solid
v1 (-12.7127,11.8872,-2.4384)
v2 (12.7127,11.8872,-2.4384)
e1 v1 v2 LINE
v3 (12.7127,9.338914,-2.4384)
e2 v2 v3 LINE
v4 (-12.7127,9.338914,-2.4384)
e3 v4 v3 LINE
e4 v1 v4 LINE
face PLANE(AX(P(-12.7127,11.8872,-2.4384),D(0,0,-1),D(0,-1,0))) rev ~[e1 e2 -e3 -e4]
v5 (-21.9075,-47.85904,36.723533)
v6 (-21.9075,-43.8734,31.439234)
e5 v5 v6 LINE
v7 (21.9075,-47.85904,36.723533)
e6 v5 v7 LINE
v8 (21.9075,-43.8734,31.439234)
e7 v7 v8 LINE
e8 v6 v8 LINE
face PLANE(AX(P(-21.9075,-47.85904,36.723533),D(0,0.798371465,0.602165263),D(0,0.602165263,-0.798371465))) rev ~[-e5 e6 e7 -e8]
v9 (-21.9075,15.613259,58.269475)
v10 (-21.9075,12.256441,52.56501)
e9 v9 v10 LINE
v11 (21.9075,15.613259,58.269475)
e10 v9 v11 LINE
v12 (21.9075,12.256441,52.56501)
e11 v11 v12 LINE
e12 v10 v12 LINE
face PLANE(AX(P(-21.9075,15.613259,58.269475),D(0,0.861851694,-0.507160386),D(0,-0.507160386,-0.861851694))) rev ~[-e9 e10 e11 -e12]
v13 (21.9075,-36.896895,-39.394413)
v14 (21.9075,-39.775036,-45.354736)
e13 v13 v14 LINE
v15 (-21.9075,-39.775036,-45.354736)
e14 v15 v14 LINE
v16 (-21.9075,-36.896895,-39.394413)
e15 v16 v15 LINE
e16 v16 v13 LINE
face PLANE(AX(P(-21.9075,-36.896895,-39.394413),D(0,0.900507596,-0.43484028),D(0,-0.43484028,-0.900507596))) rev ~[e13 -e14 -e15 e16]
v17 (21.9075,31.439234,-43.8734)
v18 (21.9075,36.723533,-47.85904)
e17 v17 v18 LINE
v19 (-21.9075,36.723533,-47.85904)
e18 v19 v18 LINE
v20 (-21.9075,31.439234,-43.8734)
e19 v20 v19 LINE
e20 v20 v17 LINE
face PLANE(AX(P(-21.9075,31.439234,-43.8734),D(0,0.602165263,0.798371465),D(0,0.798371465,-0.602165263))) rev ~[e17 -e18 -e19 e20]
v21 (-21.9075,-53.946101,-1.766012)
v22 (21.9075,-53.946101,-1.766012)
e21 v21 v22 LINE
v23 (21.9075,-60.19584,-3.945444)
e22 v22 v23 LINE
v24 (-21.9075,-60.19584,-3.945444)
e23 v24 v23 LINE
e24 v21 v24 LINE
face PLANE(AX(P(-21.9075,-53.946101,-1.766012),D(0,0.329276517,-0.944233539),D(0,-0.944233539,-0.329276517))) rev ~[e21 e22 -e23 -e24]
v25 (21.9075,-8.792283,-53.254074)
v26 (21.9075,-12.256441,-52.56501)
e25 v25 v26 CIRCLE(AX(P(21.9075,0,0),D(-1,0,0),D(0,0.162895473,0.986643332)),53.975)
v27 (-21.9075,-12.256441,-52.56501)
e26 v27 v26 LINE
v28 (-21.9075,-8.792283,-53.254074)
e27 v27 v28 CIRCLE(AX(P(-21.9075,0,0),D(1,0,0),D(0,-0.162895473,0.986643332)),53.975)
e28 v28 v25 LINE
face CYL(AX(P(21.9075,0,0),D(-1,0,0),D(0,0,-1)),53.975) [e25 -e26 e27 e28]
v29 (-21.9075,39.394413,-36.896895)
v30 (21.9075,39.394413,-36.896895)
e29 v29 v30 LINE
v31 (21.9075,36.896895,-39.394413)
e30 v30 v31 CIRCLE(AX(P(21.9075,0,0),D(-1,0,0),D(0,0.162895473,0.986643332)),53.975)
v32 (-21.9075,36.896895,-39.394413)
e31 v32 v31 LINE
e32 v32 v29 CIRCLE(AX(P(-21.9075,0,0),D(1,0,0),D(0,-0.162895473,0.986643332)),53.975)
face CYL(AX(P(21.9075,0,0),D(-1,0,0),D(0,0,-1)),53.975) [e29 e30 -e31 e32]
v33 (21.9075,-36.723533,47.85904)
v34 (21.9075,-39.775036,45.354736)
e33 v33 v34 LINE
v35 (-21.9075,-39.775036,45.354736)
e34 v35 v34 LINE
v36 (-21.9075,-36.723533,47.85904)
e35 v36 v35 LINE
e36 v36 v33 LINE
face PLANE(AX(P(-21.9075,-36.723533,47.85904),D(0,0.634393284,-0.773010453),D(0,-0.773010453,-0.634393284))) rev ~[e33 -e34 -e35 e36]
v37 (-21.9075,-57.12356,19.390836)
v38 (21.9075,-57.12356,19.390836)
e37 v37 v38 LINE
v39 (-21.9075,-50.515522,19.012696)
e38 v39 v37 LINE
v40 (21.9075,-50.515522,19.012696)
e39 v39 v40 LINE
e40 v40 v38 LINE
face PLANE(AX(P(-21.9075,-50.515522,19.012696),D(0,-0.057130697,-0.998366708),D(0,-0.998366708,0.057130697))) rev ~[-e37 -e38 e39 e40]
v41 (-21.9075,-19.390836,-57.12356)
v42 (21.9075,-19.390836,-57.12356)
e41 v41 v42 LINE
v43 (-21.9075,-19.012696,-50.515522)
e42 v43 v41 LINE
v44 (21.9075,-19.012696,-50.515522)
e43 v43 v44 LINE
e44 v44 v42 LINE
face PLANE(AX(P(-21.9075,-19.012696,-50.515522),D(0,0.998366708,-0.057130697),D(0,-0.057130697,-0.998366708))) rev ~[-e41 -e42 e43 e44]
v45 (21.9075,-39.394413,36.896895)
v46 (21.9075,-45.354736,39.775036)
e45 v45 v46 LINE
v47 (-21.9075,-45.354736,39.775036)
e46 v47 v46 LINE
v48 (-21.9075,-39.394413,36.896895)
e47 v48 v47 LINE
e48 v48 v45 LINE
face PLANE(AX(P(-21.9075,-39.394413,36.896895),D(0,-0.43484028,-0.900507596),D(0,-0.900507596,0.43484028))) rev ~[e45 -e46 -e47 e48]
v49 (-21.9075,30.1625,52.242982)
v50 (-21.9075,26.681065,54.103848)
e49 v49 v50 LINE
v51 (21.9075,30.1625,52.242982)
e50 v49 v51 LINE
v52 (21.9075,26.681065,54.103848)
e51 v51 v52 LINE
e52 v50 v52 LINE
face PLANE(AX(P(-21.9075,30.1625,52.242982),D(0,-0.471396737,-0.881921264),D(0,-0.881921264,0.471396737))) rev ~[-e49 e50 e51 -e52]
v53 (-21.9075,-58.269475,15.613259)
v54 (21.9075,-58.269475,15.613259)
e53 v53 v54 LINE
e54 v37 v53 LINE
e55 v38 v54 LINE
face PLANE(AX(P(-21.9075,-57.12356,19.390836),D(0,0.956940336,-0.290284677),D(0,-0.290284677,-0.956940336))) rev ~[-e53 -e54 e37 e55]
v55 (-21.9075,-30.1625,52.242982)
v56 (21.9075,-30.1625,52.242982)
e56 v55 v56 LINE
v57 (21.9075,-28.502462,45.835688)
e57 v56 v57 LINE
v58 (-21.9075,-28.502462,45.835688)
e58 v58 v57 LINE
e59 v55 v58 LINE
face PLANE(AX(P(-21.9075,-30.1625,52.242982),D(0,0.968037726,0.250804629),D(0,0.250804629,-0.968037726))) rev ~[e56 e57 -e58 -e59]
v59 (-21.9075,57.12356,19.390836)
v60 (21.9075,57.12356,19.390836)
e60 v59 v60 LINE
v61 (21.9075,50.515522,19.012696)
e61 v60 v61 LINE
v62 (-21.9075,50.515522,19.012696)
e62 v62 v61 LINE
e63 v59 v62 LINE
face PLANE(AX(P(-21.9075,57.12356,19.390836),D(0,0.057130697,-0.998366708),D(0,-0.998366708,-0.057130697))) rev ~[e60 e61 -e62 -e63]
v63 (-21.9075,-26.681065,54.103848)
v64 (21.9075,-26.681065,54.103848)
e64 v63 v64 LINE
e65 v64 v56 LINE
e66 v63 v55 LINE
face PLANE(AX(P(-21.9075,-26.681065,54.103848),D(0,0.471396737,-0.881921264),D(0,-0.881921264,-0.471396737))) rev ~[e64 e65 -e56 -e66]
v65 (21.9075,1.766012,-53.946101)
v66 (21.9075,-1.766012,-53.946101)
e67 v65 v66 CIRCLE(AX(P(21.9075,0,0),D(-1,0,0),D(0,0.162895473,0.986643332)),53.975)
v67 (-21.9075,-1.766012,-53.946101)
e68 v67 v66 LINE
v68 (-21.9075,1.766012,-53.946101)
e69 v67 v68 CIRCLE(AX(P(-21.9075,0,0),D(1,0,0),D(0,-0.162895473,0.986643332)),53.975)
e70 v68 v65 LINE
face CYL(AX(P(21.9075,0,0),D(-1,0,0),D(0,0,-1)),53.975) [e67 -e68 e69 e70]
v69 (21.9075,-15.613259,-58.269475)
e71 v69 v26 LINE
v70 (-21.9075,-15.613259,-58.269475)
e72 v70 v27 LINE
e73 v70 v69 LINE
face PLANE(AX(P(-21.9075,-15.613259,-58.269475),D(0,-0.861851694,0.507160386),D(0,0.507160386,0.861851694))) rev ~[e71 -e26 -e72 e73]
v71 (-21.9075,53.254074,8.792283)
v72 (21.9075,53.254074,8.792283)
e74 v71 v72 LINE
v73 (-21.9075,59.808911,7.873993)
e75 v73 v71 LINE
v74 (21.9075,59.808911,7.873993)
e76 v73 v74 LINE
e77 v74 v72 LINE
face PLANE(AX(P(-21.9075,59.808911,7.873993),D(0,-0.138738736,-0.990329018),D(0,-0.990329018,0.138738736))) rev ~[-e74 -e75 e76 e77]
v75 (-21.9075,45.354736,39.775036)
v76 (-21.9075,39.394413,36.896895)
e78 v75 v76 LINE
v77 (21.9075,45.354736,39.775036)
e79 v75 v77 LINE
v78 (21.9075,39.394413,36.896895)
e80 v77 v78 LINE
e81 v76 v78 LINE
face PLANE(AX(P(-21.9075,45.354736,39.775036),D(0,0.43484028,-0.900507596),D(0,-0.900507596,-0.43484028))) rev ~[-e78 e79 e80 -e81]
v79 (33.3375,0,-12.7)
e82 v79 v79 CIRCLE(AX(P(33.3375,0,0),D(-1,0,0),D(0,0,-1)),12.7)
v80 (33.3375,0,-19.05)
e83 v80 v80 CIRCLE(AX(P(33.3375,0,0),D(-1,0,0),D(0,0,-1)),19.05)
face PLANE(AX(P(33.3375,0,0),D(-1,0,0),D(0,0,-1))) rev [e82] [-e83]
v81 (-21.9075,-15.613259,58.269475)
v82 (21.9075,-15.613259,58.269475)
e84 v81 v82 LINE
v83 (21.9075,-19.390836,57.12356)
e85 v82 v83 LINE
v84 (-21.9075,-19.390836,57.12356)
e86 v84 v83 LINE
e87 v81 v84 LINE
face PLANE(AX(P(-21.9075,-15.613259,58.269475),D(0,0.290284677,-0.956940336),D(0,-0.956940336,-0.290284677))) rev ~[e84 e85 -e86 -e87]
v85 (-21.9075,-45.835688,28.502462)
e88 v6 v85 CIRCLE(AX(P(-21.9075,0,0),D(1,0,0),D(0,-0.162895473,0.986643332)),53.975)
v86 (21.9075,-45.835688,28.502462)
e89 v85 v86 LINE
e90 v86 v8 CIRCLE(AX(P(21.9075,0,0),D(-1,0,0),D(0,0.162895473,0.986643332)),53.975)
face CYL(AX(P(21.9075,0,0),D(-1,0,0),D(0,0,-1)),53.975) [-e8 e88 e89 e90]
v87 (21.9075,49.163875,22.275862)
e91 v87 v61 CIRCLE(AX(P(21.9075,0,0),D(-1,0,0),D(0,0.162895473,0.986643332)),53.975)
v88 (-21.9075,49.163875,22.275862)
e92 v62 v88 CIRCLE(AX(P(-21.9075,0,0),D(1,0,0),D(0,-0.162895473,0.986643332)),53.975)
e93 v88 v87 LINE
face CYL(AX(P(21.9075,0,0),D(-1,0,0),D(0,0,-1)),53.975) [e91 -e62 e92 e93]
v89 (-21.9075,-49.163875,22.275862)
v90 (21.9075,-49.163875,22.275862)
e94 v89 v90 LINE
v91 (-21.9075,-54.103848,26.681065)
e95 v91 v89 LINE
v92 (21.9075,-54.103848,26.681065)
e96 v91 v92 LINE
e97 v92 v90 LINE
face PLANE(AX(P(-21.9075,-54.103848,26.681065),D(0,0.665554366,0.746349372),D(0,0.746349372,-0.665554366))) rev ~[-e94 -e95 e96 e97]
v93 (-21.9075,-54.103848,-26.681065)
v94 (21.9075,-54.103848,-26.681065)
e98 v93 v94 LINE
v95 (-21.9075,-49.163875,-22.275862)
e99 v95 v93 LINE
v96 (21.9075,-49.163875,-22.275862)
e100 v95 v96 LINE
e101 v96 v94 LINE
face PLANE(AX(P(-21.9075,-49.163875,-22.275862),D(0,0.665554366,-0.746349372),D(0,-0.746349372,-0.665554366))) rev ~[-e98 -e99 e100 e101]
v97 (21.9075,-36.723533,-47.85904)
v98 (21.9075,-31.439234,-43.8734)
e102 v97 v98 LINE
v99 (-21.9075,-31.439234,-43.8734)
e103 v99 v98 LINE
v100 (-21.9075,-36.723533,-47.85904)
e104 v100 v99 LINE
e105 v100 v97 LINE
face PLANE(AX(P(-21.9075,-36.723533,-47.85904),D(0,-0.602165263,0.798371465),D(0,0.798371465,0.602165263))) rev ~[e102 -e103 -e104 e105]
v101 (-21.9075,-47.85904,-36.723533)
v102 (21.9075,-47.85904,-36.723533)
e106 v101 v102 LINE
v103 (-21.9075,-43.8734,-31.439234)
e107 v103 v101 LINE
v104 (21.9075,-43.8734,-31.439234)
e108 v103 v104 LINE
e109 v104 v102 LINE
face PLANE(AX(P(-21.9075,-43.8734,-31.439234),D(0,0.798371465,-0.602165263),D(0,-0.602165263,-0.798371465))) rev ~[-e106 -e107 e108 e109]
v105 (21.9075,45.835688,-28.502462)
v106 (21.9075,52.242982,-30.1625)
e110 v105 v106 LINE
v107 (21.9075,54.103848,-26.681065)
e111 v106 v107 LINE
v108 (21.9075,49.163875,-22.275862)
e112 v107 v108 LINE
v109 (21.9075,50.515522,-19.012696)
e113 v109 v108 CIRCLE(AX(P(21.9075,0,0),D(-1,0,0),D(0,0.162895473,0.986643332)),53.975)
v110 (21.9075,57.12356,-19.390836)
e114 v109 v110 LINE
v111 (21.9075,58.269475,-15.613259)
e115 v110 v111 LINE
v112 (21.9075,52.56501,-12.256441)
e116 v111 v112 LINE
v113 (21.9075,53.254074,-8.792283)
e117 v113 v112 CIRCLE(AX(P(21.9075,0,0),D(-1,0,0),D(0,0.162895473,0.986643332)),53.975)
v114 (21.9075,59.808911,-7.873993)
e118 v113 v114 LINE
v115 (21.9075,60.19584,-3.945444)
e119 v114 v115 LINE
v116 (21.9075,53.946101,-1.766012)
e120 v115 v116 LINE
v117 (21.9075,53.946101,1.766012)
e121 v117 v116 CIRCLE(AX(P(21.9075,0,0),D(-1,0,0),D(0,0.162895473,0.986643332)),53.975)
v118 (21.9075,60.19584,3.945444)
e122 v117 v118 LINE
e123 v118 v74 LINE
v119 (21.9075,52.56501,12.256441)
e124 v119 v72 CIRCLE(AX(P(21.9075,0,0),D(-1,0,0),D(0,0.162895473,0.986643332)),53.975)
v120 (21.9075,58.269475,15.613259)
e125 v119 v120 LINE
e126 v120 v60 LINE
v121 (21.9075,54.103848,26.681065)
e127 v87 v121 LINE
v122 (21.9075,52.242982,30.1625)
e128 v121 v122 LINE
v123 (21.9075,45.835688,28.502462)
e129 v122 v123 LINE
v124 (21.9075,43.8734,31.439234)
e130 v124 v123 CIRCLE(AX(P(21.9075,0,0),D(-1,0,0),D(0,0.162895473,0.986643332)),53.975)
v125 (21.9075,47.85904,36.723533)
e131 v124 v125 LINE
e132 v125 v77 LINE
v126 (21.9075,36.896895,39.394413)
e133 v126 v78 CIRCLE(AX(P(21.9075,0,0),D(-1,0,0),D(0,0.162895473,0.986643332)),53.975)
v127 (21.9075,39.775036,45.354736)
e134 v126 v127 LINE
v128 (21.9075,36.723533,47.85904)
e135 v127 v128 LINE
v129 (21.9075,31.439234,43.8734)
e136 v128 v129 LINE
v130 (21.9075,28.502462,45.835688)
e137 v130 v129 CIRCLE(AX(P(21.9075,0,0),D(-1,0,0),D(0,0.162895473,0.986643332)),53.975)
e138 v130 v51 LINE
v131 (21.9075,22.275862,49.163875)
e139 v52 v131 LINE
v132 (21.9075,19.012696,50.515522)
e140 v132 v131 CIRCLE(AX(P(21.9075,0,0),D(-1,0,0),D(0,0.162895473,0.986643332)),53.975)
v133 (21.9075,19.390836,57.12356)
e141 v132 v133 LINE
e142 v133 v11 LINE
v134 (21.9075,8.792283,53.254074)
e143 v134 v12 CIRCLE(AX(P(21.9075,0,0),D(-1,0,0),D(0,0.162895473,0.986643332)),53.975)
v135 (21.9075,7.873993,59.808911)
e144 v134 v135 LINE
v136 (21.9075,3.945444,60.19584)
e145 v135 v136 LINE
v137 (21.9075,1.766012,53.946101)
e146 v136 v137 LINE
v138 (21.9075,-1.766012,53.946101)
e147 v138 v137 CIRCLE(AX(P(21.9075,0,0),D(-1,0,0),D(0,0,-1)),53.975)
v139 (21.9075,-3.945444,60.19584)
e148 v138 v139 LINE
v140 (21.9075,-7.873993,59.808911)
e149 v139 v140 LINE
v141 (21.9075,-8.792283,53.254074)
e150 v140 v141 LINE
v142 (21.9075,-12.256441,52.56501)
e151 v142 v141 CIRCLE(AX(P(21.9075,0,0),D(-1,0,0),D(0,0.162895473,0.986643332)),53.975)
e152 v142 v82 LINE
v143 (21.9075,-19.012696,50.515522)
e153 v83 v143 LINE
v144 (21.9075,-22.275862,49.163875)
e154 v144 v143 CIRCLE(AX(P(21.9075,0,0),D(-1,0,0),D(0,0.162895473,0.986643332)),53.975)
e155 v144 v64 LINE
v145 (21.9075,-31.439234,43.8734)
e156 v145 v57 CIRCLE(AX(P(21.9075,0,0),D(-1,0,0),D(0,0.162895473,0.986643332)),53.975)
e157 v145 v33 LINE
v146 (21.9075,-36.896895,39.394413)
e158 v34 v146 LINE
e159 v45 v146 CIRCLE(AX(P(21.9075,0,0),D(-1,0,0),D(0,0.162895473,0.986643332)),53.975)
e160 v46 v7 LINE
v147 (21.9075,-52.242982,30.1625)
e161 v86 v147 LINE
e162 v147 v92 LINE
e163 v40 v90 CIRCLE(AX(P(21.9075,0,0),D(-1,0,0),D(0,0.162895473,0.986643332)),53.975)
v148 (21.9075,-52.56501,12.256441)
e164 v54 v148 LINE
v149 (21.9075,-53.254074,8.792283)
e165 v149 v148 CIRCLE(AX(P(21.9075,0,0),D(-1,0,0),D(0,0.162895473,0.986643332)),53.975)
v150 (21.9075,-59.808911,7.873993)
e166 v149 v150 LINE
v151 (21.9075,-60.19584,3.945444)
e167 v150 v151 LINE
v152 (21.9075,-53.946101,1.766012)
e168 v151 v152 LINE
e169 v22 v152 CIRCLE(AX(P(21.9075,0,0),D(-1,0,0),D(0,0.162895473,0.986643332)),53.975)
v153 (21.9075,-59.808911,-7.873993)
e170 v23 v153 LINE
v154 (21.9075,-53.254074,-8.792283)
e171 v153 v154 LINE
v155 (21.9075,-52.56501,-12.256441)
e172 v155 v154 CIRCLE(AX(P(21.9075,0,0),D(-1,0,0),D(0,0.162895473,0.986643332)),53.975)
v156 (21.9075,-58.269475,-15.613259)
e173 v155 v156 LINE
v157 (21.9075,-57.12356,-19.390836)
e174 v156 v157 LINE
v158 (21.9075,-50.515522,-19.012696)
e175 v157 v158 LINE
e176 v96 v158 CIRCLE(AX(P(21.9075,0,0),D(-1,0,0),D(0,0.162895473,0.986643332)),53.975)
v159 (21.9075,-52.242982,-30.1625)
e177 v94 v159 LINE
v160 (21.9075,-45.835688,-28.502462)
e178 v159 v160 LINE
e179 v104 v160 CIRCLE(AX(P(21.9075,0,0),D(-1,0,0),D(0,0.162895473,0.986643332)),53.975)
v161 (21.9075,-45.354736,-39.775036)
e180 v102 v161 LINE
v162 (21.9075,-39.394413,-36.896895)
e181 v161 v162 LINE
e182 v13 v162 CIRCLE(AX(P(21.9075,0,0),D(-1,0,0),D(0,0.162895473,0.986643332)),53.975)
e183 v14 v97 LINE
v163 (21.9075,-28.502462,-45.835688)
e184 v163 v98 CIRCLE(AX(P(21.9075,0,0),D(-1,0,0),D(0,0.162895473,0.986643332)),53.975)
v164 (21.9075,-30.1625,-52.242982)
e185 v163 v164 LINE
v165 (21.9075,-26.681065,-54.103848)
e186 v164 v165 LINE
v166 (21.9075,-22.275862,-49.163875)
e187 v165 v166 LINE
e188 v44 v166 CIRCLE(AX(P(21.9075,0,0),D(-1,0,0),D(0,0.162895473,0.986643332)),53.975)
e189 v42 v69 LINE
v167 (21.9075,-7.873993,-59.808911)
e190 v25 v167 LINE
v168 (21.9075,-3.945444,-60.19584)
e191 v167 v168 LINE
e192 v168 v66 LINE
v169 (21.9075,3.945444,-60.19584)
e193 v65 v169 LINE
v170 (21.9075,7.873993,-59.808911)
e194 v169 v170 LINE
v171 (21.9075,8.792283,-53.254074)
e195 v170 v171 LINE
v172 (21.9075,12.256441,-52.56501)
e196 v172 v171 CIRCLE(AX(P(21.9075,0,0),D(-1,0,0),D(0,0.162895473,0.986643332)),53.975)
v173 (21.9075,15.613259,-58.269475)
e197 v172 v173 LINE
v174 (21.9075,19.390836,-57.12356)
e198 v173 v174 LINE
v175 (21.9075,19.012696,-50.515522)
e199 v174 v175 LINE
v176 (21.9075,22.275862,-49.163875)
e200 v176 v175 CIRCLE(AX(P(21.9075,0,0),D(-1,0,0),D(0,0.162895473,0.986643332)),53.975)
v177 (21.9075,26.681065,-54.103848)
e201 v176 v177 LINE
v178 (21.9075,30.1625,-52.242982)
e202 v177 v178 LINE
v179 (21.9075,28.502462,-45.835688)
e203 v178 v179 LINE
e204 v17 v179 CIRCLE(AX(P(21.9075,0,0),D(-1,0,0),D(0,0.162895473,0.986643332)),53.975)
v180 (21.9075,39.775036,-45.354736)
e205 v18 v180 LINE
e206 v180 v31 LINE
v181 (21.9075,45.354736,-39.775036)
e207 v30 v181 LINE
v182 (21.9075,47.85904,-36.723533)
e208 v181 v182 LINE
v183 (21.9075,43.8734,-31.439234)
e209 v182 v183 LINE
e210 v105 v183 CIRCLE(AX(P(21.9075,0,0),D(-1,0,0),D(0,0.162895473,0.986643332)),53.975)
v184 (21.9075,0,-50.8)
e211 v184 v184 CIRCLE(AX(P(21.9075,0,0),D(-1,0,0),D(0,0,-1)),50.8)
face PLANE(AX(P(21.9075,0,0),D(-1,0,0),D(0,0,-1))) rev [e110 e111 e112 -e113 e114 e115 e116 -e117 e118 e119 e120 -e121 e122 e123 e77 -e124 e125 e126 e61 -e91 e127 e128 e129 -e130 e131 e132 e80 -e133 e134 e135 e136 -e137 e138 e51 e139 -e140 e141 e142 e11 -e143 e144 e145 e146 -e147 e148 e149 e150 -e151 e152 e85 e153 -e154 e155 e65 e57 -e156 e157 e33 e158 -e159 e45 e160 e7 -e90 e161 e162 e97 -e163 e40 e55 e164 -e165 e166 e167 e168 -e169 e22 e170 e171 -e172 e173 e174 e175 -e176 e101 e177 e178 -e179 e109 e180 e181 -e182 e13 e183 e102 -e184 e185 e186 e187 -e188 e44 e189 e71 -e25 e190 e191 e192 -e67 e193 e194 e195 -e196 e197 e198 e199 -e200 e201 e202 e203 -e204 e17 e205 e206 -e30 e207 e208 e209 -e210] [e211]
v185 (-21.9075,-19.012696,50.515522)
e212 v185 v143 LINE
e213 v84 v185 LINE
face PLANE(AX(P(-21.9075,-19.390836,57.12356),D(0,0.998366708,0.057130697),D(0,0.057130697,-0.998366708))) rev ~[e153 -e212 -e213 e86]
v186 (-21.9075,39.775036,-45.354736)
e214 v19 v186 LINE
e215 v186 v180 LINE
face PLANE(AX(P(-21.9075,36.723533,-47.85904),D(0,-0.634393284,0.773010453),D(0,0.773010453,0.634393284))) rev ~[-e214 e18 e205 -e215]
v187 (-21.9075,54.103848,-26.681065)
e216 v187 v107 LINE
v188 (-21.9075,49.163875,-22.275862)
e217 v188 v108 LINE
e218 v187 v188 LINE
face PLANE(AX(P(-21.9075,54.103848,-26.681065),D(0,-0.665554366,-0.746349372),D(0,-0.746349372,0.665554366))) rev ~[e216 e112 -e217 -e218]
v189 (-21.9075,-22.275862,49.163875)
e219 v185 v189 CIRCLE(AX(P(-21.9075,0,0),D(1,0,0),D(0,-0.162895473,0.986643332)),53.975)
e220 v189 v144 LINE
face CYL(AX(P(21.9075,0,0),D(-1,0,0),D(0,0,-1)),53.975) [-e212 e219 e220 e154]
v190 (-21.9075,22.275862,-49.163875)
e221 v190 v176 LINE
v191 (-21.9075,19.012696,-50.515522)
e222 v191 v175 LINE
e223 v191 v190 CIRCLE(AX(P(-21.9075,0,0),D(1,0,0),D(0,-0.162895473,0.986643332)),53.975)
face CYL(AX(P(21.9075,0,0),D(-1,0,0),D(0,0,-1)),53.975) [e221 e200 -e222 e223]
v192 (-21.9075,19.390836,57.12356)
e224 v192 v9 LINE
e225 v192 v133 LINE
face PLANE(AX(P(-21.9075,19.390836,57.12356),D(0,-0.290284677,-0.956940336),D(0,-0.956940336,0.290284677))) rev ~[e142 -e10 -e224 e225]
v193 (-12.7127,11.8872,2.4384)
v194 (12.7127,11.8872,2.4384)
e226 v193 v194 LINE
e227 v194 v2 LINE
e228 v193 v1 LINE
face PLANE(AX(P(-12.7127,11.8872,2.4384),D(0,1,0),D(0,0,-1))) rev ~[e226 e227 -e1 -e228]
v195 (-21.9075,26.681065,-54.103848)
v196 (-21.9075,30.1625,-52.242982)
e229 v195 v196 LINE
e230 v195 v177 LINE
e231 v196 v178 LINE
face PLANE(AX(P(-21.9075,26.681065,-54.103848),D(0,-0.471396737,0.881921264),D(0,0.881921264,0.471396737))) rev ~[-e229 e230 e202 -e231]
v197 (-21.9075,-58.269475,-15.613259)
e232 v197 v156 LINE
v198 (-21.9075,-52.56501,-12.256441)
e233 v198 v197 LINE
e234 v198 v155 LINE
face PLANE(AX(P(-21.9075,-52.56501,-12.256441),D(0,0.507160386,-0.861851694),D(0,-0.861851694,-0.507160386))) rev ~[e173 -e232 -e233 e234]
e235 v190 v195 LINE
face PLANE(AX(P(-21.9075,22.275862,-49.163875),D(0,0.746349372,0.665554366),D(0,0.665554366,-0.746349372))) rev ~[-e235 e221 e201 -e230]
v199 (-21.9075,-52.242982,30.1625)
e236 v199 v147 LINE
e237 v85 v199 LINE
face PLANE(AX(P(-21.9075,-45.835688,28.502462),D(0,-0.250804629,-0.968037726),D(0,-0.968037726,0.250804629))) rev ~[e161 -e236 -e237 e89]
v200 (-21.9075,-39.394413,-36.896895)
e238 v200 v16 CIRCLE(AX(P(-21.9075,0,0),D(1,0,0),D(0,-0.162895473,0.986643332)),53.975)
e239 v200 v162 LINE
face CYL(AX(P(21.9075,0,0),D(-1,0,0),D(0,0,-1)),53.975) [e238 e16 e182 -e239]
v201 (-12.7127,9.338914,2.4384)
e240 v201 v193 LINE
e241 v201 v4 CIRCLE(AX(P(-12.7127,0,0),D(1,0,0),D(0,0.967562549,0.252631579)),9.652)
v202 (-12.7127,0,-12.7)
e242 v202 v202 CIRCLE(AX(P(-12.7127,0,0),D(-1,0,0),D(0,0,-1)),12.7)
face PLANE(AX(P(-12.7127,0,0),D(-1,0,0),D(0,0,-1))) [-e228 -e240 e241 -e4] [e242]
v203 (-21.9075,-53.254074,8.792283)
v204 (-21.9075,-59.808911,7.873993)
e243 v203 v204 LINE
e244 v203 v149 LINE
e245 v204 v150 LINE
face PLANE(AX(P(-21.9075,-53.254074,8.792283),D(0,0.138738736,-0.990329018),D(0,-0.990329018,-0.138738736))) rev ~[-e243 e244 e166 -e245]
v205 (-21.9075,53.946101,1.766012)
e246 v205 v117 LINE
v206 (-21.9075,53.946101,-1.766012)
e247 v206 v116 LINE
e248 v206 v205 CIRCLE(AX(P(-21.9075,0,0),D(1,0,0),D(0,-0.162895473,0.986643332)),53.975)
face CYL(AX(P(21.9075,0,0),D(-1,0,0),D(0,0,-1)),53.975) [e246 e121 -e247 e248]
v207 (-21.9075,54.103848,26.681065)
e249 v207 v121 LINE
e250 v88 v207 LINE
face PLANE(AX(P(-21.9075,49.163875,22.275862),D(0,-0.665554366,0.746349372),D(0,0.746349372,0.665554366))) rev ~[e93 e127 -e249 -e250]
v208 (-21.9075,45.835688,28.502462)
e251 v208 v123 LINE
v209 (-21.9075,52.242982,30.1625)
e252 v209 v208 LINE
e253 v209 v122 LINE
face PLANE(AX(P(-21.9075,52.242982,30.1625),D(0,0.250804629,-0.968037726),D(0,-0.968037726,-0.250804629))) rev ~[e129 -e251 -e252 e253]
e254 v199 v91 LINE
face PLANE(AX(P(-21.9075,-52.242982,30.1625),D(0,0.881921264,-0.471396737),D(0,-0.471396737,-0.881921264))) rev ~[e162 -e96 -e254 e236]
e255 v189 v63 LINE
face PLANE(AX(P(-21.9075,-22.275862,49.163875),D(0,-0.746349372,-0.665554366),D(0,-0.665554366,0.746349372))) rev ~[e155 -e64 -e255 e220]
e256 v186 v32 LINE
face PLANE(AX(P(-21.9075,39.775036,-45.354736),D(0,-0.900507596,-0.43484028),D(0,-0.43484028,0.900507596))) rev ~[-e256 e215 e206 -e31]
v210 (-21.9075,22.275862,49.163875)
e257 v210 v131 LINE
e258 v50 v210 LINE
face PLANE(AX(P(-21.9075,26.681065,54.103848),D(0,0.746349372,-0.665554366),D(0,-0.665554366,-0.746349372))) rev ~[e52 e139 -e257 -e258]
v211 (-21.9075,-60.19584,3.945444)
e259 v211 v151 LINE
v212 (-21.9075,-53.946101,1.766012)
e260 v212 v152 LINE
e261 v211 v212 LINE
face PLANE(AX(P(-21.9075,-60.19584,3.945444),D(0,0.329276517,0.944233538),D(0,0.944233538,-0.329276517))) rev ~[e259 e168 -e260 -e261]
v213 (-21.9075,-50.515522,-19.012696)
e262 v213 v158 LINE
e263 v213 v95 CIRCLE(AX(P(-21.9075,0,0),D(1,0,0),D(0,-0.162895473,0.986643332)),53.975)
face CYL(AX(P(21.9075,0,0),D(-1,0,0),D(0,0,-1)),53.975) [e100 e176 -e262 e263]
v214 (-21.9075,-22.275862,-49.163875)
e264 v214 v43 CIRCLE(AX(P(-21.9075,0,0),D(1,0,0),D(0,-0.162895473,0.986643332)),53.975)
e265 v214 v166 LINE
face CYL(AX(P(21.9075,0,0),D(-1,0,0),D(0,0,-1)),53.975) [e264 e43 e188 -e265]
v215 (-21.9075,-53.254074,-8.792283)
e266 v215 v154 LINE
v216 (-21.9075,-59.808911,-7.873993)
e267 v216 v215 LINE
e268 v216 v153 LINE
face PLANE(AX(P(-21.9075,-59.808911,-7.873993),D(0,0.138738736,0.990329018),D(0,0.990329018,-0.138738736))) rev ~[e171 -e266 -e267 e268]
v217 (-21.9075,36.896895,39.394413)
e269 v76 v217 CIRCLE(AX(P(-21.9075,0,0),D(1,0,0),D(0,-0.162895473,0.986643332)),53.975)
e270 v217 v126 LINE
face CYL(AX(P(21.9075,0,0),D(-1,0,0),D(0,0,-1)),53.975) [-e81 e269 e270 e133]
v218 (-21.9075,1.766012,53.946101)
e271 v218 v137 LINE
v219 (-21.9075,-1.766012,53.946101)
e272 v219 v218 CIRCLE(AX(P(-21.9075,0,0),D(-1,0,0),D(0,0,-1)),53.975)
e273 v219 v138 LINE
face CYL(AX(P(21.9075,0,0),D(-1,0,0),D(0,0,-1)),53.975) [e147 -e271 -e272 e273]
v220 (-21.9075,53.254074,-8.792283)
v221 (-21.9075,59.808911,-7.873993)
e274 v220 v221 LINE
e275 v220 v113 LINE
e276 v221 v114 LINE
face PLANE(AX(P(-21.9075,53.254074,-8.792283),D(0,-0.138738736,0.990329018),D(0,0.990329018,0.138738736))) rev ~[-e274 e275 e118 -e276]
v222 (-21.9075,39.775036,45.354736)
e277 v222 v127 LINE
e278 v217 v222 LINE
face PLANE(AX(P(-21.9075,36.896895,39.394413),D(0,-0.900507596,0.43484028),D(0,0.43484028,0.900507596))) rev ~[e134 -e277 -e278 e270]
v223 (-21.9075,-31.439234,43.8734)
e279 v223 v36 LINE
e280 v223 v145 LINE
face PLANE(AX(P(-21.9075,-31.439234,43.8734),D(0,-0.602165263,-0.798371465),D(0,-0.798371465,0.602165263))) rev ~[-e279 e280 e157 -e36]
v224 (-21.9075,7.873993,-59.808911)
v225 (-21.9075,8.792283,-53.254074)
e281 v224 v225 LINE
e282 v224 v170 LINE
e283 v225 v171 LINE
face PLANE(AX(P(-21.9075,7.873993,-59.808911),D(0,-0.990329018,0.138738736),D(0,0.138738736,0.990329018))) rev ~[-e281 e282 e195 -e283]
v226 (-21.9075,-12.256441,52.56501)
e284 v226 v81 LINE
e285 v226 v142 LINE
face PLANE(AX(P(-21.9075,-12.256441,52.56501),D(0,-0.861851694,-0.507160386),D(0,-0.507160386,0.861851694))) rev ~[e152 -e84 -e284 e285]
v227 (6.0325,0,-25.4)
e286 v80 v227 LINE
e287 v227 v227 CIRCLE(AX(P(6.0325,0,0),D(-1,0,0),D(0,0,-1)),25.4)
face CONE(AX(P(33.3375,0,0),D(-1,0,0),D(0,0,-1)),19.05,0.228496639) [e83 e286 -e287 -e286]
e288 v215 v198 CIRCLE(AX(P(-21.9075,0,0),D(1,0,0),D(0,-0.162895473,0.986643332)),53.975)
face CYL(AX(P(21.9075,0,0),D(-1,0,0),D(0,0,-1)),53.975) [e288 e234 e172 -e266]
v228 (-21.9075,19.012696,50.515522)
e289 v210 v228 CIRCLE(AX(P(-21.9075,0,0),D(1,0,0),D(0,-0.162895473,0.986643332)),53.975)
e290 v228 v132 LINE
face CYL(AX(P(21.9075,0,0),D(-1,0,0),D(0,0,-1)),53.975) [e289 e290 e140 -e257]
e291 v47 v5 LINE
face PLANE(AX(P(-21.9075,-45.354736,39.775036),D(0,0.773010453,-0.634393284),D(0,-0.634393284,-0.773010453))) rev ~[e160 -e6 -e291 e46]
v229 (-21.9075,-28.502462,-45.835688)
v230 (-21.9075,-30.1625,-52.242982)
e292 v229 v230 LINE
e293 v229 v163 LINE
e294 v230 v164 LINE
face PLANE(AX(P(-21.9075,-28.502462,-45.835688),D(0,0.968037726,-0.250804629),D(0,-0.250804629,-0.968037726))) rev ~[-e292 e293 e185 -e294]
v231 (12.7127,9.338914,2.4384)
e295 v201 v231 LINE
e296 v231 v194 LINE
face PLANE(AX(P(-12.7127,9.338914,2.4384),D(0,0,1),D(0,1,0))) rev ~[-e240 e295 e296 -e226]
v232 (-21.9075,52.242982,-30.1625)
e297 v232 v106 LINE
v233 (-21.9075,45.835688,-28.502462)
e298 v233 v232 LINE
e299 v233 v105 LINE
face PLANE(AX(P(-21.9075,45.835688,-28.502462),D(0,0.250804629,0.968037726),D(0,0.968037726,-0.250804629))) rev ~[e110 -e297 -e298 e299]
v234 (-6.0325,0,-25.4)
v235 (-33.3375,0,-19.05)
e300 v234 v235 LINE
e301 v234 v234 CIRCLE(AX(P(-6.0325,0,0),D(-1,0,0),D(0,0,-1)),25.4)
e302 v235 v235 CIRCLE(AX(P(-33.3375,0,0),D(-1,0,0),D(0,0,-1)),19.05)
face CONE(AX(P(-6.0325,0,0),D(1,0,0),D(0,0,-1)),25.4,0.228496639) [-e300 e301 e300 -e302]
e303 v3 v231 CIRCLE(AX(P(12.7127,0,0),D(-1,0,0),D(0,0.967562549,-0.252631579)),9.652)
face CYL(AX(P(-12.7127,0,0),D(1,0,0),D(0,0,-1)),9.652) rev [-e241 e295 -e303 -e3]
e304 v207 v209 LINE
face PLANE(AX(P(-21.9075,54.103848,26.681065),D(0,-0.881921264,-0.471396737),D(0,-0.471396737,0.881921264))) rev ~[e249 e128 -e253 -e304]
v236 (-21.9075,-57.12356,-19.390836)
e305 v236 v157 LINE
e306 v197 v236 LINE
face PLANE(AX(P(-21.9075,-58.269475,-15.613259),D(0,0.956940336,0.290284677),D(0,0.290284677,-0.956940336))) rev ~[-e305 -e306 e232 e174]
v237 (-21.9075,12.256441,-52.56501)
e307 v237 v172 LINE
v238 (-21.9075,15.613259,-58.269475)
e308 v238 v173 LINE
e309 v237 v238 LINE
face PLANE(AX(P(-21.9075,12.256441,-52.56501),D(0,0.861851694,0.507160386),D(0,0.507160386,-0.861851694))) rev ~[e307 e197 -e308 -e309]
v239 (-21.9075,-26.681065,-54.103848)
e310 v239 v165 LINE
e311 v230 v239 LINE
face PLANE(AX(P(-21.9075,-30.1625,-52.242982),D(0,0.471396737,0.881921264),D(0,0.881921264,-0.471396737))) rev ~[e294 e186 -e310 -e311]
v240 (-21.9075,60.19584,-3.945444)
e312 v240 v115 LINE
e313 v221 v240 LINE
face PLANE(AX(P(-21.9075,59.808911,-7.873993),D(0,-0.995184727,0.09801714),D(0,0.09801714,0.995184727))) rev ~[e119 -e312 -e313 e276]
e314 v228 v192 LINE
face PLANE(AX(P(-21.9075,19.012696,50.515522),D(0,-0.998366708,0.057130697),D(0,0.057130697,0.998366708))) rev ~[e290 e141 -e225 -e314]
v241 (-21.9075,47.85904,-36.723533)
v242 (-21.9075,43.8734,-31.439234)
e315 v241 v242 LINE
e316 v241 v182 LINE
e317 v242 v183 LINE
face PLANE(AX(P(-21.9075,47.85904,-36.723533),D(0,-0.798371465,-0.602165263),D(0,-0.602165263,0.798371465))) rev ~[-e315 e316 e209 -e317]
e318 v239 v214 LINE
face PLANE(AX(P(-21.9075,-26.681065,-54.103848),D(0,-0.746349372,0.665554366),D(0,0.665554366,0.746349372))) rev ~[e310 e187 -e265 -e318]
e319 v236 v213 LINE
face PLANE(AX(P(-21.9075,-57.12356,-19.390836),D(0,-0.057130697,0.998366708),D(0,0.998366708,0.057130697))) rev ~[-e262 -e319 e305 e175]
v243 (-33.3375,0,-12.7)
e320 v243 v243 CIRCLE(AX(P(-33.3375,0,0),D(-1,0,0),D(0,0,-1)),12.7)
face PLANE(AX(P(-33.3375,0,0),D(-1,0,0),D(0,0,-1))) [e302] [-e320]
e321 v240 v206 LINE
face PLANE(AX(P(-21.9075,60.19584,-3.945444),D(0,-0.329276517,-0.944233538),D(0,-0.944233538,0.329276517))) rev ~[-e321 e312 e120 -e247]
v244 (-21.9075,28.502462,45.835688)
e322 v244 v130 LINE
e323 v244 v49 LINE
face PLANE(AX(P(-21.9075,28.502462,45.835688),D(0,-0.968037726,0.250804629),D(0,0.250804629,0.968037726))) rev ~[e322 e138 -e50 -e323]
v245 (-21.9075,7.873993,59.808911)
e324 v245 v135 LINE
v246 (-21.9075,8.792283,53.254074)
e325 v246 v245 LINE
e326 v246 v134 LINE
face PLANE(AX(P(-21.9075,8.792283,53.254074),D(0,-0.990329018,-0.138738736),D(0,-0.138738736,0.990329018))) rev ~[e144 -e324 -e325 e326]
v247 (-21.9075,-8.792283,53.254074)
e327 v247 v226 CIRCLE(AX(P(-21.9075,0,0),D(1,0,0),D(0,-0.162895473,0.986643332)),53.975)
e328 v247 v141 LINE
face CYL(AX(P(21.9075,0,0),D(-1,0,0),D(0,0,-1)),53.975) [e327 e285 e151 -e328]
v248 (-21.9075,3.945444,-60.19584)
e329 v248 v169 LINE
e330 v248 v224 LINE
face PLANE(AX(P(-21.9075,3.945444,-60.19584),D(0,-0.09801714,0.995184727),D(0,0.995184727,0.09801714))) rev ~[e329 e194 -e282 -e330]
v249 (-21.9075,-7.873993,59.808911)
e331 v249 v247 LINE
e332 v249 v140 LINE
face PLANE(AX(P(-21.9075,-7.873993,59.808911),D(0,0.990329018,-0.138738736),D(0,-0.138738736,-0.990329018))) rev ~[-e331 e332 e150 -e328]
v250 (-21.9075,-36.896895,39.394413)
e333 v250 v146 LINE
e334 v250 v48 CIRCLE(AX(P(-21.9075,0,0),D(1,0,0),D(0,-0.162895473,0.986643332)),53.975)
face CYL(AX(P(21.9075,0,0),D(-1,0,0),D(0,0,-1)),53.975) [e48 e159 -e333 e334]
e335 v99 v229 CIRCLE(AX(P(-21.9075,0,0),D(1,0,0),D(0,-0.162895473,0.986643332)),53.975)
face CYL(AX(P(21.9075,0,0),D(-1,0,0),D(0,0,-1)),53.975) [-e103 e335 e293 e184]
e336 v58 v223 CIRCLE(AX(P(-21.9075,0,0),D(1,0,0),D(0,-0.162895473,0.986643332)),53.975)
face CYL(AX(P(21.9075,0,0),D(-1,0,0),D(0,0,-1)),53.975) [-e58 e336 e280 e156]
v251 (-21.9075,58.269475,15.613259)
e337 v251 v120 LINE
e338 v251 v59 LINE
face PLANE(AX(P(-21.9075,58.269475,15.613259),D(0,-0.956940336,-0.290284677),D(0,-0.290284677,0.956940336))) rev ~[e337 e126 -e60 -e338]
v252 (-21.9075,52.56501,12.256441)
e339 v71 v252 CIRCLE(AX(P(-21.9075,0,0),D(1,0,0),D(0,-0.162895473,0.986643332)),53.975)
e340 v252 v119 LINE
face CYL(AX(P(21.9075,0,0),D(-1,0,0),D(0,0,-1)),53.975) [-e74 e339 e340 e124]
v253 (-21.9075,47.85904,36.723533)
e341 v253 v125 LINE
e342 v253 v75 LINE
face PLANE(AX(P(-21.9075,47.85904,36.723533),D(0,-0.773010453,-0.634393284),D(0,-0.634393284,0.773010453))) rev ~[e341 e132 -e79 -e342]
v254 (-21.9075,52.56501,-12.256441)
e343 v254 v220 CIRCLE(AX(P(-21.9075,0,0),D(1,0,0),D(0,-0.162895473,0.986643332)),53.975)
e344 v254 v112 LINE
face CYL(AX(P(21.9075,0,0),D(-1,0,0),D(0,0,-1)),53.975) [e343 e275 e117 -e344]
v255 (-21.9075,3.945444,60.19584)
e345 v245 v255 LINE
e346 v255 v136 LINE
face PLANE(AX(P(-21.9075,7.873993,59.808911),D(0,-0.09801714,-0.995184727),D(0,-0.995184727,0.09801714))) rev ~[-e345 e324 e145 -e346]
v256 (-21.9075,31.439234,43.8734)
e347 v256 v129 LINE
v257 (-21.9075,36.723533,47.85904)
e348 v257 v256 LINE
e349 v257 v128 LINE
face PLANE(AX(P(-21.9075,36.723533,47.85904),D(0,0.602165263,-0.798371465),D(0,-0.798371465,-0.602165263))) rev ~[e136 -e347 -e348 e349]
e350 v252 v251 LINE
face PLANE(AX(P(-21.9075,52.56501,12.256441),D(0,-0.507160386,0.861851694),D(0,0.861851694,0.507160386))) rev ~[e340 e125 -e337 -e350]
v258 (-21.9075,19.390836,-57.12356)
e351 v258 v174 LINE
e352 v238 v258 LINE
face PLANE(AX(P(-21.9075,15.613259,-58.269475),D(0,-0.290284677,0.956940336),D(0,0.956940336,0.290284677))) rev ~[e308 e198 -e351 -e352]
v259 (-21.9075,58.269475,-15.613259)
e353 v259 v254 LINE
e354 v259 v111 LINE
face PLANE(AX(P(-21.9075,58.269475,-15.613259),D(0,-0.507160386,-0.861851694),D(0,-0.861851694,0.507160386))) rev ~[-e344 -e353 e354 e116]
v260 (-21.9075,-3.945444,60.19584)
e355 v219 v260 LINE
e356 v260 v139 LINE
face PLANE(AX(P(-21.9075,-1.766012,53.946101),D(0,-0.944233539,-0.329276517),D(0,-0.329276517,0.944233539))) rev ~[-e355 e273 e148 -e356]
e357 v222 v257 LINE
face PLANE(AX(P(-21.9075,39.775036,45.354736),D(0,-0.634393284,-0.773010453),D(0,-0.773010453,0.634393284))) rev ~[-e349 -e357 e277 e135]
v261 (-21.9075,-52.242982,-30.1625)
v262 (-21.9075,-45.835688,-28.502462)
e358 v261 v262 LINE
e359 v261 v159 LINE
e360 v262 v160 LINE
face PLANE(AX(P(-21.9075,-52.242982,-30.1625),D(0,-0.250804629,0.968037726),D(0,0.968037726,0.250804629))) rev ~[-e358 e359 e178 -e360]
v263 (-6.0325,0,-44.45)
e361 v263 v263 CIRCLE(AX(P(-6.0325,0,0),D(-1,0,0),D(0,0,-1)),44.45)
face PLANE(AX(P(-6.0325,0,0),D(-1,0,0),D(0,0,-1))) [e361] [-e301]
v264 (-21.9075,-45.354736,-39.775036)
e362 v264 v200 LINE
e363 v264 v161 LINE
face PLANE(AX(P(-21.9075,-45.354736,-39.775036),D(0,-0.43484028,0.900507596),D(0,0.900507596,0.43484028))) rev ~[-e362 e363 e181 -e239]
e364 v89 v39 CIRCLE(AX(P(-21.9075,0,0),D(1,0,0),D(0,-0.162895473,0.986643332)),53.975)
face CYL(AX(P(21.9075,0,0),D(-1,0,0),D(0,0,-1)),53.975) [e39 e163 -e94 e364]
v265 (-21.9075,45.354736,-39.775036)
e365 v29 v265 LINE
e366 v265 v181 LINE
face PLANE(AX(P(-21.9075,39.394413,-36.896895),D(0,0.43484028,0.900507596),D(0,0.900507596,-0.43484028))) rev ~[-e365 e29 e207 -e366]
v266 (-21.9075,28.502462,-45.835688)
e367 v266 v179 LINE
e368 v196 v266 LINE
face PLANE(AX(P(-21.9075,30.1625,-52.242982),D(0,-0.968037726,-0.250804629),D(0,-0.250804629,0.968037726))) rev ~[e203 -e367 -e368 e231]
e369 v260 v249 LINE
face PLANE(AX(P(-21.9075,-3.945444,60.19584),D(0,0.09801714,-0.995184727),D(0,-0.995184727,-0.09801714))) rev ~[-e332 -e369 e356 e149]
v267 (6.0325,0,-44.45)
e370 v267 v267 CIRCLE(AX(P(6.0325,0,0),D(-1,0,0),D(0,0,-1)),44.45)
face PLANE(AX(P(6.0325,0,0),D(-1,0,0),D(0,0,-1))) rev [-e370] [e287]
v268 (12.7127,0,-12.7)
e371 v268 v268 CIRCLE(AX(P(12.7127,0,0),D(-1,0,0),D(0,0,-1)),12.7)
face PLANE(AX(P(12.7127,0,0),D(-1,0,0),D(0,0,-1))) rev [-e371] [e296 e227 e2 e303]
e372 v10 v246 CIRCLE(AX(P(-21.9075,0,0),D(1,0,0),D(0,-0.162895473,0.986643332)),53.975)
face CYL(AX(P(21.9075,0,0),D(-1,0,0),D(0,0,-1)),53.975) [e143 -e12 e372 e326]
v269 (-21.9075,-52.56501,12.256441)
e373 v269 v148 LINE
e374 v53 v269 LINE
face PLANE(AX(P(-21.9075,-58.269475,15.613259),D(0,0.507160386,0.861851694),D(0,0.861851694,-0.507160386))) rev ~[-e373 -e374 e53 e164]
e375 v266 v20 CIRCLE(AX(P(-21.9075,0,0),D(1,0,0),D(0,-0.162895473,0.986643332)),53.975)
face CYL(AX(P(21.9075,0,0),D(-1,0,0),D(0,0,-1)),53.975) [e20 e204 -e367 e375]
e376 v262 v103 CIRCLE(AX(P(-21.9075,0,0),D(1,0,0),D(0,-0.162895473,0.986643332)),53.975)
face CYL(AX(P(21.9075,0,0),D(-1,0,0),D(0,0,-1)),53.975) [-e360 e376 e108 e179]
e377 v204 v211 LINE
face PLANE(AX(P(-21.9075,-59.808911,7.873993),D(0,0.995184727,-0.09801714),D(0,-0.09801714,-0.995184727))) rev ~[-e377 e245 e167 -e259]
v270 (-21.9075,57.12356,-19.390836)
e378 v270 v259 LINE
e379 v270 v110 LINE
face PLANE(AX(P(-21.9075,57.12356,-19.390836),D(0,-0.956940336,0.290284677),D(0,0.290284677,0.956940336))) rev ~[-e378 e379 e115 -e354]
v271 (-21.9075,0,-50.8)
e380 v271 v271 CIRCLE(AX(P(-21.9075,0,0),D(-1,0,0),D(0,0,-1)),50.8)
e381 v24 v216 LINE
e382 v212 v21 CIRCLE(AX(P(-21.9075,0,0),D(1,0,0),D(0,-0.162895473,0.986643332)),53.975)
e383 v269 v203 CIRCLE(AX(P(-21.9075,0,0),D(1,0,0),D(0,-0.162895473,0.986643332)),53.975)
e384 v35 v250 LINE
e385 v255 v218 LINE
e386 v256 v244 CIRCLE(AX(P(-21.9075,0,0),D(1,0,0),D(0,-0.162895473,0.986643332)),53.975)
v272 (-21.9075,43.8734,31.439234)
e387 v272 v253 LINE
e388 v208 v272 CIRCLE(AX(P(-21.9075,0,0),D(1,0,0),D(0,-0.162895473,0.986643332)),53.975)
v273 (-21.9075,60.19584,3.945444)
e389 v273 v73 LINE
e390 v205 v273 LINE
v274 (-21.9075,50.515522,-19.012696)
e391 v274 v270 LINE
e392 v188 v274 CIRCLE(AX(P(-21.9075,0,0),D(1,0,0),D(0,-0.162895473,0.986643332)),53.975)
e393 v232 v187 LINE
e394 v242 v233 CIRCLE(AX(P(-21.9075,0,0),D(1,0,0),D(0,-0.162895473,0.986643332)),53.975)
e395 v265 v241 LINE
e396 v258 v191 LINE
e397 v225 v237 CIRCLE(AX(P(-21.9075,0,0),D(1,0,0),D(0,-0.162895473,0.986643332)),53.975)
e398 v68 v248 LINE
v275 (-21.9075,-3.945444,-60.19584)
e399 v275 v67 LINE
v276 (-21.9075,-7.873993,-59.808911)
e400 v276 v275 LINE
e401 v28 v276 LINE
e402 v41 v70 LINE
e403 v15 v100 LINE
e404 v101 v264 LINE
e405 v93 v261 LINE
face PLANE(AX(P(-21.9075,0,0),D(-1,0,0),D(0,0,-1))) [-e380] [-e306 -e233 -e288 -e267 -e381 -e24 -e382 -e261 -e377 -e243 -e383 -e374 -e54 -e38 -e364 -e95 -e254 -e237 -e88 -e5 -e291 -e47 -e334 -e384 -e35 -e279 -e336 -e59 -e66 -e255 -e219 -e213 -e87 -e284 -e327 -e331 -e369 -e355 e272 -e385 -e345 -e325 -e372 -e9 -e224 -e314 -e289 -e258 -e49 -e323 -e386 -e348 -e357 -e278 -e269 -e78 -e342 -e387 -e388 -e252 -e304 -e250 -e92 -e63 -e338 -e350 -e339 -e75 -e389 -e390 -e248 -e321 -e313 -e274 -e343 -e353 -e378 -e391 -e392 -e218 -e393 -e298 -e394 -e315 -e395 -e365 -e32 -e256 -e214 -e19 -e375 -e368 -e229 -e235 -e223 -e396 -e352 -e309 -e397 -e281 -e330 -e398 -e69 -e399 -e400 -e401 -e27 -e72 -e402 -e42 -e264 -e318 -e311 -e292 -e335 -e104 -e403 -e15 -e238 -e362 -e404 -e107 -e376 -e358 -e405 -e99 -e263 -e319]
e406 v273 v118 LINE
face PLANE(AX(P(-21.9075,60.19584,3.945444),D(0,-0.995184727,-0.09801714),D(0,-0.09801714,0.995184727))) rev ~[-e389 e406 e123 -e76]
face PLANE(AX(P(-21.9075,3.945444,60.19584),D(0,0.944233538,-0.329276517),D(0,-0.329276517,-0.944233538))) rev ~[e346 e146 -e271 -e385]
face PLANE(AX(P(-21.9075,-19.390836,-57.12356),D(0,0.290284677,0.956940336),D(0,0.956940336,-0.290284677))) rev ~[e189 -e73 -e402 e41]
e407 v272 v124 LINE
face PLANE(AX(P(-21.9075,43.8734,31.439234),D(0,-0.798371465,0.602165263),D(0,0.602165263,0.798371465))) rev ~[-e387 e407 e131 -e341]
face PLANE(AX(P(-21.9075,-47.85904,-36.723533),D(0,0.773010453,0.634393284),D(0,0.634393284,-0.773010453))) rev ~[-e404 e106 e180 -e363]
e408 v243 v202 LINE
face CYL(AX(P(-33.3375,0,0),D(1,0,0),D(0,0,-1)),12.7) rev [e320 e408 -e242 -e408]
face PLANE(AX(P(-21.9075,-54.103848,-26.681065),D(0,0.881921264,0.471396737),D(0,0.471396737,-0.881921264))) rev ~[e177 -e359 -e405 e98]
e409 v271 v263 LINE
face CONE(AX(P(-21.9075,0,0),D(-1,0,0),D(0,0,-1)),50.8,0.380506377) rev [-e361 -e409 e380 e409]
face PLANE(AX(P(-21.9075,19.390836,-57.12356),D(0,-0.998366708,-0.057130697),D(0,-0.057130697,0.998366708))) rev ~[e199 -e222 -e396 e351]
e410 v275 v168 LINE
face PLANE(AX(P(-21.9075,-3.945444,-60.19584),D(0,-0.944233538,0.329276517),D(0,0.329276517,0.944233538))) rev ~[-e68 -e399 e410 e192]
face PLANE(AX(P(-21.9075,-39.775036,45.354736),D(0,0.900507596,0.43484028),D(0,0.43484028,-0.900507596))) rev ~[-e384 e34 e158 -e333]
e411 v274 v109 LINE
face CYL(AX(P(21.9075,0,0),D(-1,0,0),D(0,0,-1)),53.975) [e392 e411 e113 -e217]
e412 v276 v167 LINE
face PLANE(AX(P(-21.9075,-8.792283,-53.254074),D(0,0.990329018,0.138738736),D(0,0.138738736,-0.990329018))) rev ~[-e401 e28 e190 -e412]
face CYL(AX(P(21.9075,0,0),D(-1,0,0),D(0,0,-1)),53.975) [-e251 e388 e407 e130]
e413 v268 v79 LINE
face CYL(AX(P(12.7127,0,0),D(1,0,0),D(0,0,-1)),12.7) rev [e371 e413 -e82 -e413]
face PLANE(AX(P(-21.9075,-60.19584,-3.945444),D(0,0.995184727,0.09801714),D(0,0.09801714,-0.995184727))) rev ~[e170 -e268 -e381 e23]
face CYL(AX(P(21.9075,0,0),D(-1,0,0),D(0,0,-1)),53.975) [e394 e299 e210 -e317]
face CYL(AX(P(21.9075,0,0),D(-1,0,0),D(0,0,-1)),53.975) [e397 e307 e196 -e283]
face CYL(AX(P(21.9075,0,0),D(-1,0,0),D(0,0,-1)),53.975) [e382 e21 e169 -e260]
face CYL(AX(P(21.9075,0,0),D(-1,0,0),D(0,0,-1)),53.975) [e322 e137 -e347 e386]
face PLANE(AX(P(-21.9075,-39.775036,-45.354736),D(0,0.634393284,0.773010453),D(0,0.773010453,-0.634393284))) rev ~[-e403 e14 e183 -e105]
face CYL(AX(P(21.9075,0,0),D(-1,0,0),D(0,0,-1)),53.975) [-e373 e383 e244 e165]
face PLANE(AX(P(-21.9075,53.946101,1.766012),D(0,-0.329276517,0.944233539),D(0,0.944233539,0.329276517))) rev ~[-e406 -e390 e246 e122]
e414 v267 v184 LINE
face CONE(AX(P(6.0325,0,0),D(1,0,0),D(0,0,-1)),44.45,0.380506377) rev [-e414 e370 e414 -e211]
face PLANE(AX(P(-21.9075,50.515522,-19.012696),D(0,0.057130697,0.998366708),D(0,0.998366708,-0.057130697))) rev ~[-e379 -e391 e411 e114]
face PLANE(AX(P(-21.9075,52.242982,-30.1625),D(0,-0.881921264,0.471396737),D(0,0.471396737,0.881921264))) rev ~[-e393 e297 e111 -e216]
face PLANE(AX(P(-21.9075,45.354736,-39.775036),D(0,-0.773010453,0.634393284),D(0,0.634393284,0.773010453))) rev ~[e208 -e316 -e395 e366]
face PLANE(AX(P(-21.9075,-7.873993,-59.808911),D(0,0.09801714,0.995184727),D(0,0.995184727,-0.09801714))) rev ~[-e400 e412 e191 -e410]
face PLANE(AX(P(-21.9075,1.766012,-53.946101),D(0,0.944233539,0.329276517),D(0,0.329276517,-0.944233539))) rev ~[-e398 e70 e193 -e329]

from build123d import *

# Parameters (mm, degrees)
BOSS_EXTRUDE1_DEPTH = 43.815
CIRPATTERN1_COUNT   = 32
CUT_EXTRUDE1_REACH  = 98.787


with BuildPart() as part:
    # Sketch1 → Revolve1 (revolve)
    with BuildSketch(Plane.XY, mode=Mode.PRIVATE) as revolve1_sk:
        Polygon((21.9075, 53.975), (-21.9075, 53.975), (-21.9075, 50.8), (-6.0325, 44.45), (-6.0325, 25.4), (-33.3375, 19.05), (-33.3375, 12.7), (-12.7127, 12.7), (-12.7127, 9.652), (12.7127, 9.652), (12.7127, 12.7), (33.3375, 12.7), (33.3375, 19.05), (6.0325, 25.4), (6.0325, 44.45), (21.9075, 50.8), align=None)
    revolve(revolve1_sk.sketch.rotate(Axis((0, 0, 0), (-1, 0, 0)), 90), axis=Axis((0, 0, 0), (-1, 0, 0)))

    # Sketch2 → Boss-Extrude1 (add)
    with BuildSketch(Plane.ZY.offset(21.9075)):
        with BuildLine():
            Line((60.195839544, 3.945443771), (53.946101109, 1.766012495))
            ThreePointArc((53.946101109, 1.766012495), (53.715095622, 5.290475149), (53.254073849, 8.792283176))
            Line((53.254073849, 8.792283176), (59.808911262, 7.873992546))
            Line((59.808911262, 7.873992546), (60.195839544, 3.945443771))
        make_face()
    boss_extrude1 = extrude(amount=-BOSS_EXTRUDE1_DEPTH)

    # CirPattern1: Boss-Extrude1 ×32 about axis
    cirpattern1_axis = Axis((0, 0, 0), (1, 0, 0))
    for i in range(1, CIRPATTERN1_COUNT):
        add(boss_extrude1.rotate(cirpattern1_axis, i * 360 / CIRPATTERN1_COUNT))

    # Sketch3 → Cut-Extrude1 (cut, up to next)
    with BuildSketch(Plane.ZY.offset(12.7127), mode=Mode.PRIVATE) as cut_extrude1_sk1:
        with BuildLine():
            Line((0, 11.8872), (-2.4384, 11.8872))
            Line((-2.4384, 11.8872), (-2.4384, 9.338913718))
            ThreePointArc((-2.4384, 9.338913718), (0, 9.652), (2.4384, 9.338913718))
            Line((2.4384, 9.338913718), (2.4384, 11.8872))
            Line((2.4384, 11.8872), (0, 11.8872))
        make_face()
    cut_extrude1_tool1 = extrude(cut_extrude1_sk1.sketch, amount=-CUT_EXTRUDE1_REACH, mode=Mode.PRIVATE) & part.part
    add(cut_extrude1_tool1.solids().sort_by_distance((-12.7127, 10.715908, 0))[0], mode=Mode.SUBTRACT)


solid = part.part
